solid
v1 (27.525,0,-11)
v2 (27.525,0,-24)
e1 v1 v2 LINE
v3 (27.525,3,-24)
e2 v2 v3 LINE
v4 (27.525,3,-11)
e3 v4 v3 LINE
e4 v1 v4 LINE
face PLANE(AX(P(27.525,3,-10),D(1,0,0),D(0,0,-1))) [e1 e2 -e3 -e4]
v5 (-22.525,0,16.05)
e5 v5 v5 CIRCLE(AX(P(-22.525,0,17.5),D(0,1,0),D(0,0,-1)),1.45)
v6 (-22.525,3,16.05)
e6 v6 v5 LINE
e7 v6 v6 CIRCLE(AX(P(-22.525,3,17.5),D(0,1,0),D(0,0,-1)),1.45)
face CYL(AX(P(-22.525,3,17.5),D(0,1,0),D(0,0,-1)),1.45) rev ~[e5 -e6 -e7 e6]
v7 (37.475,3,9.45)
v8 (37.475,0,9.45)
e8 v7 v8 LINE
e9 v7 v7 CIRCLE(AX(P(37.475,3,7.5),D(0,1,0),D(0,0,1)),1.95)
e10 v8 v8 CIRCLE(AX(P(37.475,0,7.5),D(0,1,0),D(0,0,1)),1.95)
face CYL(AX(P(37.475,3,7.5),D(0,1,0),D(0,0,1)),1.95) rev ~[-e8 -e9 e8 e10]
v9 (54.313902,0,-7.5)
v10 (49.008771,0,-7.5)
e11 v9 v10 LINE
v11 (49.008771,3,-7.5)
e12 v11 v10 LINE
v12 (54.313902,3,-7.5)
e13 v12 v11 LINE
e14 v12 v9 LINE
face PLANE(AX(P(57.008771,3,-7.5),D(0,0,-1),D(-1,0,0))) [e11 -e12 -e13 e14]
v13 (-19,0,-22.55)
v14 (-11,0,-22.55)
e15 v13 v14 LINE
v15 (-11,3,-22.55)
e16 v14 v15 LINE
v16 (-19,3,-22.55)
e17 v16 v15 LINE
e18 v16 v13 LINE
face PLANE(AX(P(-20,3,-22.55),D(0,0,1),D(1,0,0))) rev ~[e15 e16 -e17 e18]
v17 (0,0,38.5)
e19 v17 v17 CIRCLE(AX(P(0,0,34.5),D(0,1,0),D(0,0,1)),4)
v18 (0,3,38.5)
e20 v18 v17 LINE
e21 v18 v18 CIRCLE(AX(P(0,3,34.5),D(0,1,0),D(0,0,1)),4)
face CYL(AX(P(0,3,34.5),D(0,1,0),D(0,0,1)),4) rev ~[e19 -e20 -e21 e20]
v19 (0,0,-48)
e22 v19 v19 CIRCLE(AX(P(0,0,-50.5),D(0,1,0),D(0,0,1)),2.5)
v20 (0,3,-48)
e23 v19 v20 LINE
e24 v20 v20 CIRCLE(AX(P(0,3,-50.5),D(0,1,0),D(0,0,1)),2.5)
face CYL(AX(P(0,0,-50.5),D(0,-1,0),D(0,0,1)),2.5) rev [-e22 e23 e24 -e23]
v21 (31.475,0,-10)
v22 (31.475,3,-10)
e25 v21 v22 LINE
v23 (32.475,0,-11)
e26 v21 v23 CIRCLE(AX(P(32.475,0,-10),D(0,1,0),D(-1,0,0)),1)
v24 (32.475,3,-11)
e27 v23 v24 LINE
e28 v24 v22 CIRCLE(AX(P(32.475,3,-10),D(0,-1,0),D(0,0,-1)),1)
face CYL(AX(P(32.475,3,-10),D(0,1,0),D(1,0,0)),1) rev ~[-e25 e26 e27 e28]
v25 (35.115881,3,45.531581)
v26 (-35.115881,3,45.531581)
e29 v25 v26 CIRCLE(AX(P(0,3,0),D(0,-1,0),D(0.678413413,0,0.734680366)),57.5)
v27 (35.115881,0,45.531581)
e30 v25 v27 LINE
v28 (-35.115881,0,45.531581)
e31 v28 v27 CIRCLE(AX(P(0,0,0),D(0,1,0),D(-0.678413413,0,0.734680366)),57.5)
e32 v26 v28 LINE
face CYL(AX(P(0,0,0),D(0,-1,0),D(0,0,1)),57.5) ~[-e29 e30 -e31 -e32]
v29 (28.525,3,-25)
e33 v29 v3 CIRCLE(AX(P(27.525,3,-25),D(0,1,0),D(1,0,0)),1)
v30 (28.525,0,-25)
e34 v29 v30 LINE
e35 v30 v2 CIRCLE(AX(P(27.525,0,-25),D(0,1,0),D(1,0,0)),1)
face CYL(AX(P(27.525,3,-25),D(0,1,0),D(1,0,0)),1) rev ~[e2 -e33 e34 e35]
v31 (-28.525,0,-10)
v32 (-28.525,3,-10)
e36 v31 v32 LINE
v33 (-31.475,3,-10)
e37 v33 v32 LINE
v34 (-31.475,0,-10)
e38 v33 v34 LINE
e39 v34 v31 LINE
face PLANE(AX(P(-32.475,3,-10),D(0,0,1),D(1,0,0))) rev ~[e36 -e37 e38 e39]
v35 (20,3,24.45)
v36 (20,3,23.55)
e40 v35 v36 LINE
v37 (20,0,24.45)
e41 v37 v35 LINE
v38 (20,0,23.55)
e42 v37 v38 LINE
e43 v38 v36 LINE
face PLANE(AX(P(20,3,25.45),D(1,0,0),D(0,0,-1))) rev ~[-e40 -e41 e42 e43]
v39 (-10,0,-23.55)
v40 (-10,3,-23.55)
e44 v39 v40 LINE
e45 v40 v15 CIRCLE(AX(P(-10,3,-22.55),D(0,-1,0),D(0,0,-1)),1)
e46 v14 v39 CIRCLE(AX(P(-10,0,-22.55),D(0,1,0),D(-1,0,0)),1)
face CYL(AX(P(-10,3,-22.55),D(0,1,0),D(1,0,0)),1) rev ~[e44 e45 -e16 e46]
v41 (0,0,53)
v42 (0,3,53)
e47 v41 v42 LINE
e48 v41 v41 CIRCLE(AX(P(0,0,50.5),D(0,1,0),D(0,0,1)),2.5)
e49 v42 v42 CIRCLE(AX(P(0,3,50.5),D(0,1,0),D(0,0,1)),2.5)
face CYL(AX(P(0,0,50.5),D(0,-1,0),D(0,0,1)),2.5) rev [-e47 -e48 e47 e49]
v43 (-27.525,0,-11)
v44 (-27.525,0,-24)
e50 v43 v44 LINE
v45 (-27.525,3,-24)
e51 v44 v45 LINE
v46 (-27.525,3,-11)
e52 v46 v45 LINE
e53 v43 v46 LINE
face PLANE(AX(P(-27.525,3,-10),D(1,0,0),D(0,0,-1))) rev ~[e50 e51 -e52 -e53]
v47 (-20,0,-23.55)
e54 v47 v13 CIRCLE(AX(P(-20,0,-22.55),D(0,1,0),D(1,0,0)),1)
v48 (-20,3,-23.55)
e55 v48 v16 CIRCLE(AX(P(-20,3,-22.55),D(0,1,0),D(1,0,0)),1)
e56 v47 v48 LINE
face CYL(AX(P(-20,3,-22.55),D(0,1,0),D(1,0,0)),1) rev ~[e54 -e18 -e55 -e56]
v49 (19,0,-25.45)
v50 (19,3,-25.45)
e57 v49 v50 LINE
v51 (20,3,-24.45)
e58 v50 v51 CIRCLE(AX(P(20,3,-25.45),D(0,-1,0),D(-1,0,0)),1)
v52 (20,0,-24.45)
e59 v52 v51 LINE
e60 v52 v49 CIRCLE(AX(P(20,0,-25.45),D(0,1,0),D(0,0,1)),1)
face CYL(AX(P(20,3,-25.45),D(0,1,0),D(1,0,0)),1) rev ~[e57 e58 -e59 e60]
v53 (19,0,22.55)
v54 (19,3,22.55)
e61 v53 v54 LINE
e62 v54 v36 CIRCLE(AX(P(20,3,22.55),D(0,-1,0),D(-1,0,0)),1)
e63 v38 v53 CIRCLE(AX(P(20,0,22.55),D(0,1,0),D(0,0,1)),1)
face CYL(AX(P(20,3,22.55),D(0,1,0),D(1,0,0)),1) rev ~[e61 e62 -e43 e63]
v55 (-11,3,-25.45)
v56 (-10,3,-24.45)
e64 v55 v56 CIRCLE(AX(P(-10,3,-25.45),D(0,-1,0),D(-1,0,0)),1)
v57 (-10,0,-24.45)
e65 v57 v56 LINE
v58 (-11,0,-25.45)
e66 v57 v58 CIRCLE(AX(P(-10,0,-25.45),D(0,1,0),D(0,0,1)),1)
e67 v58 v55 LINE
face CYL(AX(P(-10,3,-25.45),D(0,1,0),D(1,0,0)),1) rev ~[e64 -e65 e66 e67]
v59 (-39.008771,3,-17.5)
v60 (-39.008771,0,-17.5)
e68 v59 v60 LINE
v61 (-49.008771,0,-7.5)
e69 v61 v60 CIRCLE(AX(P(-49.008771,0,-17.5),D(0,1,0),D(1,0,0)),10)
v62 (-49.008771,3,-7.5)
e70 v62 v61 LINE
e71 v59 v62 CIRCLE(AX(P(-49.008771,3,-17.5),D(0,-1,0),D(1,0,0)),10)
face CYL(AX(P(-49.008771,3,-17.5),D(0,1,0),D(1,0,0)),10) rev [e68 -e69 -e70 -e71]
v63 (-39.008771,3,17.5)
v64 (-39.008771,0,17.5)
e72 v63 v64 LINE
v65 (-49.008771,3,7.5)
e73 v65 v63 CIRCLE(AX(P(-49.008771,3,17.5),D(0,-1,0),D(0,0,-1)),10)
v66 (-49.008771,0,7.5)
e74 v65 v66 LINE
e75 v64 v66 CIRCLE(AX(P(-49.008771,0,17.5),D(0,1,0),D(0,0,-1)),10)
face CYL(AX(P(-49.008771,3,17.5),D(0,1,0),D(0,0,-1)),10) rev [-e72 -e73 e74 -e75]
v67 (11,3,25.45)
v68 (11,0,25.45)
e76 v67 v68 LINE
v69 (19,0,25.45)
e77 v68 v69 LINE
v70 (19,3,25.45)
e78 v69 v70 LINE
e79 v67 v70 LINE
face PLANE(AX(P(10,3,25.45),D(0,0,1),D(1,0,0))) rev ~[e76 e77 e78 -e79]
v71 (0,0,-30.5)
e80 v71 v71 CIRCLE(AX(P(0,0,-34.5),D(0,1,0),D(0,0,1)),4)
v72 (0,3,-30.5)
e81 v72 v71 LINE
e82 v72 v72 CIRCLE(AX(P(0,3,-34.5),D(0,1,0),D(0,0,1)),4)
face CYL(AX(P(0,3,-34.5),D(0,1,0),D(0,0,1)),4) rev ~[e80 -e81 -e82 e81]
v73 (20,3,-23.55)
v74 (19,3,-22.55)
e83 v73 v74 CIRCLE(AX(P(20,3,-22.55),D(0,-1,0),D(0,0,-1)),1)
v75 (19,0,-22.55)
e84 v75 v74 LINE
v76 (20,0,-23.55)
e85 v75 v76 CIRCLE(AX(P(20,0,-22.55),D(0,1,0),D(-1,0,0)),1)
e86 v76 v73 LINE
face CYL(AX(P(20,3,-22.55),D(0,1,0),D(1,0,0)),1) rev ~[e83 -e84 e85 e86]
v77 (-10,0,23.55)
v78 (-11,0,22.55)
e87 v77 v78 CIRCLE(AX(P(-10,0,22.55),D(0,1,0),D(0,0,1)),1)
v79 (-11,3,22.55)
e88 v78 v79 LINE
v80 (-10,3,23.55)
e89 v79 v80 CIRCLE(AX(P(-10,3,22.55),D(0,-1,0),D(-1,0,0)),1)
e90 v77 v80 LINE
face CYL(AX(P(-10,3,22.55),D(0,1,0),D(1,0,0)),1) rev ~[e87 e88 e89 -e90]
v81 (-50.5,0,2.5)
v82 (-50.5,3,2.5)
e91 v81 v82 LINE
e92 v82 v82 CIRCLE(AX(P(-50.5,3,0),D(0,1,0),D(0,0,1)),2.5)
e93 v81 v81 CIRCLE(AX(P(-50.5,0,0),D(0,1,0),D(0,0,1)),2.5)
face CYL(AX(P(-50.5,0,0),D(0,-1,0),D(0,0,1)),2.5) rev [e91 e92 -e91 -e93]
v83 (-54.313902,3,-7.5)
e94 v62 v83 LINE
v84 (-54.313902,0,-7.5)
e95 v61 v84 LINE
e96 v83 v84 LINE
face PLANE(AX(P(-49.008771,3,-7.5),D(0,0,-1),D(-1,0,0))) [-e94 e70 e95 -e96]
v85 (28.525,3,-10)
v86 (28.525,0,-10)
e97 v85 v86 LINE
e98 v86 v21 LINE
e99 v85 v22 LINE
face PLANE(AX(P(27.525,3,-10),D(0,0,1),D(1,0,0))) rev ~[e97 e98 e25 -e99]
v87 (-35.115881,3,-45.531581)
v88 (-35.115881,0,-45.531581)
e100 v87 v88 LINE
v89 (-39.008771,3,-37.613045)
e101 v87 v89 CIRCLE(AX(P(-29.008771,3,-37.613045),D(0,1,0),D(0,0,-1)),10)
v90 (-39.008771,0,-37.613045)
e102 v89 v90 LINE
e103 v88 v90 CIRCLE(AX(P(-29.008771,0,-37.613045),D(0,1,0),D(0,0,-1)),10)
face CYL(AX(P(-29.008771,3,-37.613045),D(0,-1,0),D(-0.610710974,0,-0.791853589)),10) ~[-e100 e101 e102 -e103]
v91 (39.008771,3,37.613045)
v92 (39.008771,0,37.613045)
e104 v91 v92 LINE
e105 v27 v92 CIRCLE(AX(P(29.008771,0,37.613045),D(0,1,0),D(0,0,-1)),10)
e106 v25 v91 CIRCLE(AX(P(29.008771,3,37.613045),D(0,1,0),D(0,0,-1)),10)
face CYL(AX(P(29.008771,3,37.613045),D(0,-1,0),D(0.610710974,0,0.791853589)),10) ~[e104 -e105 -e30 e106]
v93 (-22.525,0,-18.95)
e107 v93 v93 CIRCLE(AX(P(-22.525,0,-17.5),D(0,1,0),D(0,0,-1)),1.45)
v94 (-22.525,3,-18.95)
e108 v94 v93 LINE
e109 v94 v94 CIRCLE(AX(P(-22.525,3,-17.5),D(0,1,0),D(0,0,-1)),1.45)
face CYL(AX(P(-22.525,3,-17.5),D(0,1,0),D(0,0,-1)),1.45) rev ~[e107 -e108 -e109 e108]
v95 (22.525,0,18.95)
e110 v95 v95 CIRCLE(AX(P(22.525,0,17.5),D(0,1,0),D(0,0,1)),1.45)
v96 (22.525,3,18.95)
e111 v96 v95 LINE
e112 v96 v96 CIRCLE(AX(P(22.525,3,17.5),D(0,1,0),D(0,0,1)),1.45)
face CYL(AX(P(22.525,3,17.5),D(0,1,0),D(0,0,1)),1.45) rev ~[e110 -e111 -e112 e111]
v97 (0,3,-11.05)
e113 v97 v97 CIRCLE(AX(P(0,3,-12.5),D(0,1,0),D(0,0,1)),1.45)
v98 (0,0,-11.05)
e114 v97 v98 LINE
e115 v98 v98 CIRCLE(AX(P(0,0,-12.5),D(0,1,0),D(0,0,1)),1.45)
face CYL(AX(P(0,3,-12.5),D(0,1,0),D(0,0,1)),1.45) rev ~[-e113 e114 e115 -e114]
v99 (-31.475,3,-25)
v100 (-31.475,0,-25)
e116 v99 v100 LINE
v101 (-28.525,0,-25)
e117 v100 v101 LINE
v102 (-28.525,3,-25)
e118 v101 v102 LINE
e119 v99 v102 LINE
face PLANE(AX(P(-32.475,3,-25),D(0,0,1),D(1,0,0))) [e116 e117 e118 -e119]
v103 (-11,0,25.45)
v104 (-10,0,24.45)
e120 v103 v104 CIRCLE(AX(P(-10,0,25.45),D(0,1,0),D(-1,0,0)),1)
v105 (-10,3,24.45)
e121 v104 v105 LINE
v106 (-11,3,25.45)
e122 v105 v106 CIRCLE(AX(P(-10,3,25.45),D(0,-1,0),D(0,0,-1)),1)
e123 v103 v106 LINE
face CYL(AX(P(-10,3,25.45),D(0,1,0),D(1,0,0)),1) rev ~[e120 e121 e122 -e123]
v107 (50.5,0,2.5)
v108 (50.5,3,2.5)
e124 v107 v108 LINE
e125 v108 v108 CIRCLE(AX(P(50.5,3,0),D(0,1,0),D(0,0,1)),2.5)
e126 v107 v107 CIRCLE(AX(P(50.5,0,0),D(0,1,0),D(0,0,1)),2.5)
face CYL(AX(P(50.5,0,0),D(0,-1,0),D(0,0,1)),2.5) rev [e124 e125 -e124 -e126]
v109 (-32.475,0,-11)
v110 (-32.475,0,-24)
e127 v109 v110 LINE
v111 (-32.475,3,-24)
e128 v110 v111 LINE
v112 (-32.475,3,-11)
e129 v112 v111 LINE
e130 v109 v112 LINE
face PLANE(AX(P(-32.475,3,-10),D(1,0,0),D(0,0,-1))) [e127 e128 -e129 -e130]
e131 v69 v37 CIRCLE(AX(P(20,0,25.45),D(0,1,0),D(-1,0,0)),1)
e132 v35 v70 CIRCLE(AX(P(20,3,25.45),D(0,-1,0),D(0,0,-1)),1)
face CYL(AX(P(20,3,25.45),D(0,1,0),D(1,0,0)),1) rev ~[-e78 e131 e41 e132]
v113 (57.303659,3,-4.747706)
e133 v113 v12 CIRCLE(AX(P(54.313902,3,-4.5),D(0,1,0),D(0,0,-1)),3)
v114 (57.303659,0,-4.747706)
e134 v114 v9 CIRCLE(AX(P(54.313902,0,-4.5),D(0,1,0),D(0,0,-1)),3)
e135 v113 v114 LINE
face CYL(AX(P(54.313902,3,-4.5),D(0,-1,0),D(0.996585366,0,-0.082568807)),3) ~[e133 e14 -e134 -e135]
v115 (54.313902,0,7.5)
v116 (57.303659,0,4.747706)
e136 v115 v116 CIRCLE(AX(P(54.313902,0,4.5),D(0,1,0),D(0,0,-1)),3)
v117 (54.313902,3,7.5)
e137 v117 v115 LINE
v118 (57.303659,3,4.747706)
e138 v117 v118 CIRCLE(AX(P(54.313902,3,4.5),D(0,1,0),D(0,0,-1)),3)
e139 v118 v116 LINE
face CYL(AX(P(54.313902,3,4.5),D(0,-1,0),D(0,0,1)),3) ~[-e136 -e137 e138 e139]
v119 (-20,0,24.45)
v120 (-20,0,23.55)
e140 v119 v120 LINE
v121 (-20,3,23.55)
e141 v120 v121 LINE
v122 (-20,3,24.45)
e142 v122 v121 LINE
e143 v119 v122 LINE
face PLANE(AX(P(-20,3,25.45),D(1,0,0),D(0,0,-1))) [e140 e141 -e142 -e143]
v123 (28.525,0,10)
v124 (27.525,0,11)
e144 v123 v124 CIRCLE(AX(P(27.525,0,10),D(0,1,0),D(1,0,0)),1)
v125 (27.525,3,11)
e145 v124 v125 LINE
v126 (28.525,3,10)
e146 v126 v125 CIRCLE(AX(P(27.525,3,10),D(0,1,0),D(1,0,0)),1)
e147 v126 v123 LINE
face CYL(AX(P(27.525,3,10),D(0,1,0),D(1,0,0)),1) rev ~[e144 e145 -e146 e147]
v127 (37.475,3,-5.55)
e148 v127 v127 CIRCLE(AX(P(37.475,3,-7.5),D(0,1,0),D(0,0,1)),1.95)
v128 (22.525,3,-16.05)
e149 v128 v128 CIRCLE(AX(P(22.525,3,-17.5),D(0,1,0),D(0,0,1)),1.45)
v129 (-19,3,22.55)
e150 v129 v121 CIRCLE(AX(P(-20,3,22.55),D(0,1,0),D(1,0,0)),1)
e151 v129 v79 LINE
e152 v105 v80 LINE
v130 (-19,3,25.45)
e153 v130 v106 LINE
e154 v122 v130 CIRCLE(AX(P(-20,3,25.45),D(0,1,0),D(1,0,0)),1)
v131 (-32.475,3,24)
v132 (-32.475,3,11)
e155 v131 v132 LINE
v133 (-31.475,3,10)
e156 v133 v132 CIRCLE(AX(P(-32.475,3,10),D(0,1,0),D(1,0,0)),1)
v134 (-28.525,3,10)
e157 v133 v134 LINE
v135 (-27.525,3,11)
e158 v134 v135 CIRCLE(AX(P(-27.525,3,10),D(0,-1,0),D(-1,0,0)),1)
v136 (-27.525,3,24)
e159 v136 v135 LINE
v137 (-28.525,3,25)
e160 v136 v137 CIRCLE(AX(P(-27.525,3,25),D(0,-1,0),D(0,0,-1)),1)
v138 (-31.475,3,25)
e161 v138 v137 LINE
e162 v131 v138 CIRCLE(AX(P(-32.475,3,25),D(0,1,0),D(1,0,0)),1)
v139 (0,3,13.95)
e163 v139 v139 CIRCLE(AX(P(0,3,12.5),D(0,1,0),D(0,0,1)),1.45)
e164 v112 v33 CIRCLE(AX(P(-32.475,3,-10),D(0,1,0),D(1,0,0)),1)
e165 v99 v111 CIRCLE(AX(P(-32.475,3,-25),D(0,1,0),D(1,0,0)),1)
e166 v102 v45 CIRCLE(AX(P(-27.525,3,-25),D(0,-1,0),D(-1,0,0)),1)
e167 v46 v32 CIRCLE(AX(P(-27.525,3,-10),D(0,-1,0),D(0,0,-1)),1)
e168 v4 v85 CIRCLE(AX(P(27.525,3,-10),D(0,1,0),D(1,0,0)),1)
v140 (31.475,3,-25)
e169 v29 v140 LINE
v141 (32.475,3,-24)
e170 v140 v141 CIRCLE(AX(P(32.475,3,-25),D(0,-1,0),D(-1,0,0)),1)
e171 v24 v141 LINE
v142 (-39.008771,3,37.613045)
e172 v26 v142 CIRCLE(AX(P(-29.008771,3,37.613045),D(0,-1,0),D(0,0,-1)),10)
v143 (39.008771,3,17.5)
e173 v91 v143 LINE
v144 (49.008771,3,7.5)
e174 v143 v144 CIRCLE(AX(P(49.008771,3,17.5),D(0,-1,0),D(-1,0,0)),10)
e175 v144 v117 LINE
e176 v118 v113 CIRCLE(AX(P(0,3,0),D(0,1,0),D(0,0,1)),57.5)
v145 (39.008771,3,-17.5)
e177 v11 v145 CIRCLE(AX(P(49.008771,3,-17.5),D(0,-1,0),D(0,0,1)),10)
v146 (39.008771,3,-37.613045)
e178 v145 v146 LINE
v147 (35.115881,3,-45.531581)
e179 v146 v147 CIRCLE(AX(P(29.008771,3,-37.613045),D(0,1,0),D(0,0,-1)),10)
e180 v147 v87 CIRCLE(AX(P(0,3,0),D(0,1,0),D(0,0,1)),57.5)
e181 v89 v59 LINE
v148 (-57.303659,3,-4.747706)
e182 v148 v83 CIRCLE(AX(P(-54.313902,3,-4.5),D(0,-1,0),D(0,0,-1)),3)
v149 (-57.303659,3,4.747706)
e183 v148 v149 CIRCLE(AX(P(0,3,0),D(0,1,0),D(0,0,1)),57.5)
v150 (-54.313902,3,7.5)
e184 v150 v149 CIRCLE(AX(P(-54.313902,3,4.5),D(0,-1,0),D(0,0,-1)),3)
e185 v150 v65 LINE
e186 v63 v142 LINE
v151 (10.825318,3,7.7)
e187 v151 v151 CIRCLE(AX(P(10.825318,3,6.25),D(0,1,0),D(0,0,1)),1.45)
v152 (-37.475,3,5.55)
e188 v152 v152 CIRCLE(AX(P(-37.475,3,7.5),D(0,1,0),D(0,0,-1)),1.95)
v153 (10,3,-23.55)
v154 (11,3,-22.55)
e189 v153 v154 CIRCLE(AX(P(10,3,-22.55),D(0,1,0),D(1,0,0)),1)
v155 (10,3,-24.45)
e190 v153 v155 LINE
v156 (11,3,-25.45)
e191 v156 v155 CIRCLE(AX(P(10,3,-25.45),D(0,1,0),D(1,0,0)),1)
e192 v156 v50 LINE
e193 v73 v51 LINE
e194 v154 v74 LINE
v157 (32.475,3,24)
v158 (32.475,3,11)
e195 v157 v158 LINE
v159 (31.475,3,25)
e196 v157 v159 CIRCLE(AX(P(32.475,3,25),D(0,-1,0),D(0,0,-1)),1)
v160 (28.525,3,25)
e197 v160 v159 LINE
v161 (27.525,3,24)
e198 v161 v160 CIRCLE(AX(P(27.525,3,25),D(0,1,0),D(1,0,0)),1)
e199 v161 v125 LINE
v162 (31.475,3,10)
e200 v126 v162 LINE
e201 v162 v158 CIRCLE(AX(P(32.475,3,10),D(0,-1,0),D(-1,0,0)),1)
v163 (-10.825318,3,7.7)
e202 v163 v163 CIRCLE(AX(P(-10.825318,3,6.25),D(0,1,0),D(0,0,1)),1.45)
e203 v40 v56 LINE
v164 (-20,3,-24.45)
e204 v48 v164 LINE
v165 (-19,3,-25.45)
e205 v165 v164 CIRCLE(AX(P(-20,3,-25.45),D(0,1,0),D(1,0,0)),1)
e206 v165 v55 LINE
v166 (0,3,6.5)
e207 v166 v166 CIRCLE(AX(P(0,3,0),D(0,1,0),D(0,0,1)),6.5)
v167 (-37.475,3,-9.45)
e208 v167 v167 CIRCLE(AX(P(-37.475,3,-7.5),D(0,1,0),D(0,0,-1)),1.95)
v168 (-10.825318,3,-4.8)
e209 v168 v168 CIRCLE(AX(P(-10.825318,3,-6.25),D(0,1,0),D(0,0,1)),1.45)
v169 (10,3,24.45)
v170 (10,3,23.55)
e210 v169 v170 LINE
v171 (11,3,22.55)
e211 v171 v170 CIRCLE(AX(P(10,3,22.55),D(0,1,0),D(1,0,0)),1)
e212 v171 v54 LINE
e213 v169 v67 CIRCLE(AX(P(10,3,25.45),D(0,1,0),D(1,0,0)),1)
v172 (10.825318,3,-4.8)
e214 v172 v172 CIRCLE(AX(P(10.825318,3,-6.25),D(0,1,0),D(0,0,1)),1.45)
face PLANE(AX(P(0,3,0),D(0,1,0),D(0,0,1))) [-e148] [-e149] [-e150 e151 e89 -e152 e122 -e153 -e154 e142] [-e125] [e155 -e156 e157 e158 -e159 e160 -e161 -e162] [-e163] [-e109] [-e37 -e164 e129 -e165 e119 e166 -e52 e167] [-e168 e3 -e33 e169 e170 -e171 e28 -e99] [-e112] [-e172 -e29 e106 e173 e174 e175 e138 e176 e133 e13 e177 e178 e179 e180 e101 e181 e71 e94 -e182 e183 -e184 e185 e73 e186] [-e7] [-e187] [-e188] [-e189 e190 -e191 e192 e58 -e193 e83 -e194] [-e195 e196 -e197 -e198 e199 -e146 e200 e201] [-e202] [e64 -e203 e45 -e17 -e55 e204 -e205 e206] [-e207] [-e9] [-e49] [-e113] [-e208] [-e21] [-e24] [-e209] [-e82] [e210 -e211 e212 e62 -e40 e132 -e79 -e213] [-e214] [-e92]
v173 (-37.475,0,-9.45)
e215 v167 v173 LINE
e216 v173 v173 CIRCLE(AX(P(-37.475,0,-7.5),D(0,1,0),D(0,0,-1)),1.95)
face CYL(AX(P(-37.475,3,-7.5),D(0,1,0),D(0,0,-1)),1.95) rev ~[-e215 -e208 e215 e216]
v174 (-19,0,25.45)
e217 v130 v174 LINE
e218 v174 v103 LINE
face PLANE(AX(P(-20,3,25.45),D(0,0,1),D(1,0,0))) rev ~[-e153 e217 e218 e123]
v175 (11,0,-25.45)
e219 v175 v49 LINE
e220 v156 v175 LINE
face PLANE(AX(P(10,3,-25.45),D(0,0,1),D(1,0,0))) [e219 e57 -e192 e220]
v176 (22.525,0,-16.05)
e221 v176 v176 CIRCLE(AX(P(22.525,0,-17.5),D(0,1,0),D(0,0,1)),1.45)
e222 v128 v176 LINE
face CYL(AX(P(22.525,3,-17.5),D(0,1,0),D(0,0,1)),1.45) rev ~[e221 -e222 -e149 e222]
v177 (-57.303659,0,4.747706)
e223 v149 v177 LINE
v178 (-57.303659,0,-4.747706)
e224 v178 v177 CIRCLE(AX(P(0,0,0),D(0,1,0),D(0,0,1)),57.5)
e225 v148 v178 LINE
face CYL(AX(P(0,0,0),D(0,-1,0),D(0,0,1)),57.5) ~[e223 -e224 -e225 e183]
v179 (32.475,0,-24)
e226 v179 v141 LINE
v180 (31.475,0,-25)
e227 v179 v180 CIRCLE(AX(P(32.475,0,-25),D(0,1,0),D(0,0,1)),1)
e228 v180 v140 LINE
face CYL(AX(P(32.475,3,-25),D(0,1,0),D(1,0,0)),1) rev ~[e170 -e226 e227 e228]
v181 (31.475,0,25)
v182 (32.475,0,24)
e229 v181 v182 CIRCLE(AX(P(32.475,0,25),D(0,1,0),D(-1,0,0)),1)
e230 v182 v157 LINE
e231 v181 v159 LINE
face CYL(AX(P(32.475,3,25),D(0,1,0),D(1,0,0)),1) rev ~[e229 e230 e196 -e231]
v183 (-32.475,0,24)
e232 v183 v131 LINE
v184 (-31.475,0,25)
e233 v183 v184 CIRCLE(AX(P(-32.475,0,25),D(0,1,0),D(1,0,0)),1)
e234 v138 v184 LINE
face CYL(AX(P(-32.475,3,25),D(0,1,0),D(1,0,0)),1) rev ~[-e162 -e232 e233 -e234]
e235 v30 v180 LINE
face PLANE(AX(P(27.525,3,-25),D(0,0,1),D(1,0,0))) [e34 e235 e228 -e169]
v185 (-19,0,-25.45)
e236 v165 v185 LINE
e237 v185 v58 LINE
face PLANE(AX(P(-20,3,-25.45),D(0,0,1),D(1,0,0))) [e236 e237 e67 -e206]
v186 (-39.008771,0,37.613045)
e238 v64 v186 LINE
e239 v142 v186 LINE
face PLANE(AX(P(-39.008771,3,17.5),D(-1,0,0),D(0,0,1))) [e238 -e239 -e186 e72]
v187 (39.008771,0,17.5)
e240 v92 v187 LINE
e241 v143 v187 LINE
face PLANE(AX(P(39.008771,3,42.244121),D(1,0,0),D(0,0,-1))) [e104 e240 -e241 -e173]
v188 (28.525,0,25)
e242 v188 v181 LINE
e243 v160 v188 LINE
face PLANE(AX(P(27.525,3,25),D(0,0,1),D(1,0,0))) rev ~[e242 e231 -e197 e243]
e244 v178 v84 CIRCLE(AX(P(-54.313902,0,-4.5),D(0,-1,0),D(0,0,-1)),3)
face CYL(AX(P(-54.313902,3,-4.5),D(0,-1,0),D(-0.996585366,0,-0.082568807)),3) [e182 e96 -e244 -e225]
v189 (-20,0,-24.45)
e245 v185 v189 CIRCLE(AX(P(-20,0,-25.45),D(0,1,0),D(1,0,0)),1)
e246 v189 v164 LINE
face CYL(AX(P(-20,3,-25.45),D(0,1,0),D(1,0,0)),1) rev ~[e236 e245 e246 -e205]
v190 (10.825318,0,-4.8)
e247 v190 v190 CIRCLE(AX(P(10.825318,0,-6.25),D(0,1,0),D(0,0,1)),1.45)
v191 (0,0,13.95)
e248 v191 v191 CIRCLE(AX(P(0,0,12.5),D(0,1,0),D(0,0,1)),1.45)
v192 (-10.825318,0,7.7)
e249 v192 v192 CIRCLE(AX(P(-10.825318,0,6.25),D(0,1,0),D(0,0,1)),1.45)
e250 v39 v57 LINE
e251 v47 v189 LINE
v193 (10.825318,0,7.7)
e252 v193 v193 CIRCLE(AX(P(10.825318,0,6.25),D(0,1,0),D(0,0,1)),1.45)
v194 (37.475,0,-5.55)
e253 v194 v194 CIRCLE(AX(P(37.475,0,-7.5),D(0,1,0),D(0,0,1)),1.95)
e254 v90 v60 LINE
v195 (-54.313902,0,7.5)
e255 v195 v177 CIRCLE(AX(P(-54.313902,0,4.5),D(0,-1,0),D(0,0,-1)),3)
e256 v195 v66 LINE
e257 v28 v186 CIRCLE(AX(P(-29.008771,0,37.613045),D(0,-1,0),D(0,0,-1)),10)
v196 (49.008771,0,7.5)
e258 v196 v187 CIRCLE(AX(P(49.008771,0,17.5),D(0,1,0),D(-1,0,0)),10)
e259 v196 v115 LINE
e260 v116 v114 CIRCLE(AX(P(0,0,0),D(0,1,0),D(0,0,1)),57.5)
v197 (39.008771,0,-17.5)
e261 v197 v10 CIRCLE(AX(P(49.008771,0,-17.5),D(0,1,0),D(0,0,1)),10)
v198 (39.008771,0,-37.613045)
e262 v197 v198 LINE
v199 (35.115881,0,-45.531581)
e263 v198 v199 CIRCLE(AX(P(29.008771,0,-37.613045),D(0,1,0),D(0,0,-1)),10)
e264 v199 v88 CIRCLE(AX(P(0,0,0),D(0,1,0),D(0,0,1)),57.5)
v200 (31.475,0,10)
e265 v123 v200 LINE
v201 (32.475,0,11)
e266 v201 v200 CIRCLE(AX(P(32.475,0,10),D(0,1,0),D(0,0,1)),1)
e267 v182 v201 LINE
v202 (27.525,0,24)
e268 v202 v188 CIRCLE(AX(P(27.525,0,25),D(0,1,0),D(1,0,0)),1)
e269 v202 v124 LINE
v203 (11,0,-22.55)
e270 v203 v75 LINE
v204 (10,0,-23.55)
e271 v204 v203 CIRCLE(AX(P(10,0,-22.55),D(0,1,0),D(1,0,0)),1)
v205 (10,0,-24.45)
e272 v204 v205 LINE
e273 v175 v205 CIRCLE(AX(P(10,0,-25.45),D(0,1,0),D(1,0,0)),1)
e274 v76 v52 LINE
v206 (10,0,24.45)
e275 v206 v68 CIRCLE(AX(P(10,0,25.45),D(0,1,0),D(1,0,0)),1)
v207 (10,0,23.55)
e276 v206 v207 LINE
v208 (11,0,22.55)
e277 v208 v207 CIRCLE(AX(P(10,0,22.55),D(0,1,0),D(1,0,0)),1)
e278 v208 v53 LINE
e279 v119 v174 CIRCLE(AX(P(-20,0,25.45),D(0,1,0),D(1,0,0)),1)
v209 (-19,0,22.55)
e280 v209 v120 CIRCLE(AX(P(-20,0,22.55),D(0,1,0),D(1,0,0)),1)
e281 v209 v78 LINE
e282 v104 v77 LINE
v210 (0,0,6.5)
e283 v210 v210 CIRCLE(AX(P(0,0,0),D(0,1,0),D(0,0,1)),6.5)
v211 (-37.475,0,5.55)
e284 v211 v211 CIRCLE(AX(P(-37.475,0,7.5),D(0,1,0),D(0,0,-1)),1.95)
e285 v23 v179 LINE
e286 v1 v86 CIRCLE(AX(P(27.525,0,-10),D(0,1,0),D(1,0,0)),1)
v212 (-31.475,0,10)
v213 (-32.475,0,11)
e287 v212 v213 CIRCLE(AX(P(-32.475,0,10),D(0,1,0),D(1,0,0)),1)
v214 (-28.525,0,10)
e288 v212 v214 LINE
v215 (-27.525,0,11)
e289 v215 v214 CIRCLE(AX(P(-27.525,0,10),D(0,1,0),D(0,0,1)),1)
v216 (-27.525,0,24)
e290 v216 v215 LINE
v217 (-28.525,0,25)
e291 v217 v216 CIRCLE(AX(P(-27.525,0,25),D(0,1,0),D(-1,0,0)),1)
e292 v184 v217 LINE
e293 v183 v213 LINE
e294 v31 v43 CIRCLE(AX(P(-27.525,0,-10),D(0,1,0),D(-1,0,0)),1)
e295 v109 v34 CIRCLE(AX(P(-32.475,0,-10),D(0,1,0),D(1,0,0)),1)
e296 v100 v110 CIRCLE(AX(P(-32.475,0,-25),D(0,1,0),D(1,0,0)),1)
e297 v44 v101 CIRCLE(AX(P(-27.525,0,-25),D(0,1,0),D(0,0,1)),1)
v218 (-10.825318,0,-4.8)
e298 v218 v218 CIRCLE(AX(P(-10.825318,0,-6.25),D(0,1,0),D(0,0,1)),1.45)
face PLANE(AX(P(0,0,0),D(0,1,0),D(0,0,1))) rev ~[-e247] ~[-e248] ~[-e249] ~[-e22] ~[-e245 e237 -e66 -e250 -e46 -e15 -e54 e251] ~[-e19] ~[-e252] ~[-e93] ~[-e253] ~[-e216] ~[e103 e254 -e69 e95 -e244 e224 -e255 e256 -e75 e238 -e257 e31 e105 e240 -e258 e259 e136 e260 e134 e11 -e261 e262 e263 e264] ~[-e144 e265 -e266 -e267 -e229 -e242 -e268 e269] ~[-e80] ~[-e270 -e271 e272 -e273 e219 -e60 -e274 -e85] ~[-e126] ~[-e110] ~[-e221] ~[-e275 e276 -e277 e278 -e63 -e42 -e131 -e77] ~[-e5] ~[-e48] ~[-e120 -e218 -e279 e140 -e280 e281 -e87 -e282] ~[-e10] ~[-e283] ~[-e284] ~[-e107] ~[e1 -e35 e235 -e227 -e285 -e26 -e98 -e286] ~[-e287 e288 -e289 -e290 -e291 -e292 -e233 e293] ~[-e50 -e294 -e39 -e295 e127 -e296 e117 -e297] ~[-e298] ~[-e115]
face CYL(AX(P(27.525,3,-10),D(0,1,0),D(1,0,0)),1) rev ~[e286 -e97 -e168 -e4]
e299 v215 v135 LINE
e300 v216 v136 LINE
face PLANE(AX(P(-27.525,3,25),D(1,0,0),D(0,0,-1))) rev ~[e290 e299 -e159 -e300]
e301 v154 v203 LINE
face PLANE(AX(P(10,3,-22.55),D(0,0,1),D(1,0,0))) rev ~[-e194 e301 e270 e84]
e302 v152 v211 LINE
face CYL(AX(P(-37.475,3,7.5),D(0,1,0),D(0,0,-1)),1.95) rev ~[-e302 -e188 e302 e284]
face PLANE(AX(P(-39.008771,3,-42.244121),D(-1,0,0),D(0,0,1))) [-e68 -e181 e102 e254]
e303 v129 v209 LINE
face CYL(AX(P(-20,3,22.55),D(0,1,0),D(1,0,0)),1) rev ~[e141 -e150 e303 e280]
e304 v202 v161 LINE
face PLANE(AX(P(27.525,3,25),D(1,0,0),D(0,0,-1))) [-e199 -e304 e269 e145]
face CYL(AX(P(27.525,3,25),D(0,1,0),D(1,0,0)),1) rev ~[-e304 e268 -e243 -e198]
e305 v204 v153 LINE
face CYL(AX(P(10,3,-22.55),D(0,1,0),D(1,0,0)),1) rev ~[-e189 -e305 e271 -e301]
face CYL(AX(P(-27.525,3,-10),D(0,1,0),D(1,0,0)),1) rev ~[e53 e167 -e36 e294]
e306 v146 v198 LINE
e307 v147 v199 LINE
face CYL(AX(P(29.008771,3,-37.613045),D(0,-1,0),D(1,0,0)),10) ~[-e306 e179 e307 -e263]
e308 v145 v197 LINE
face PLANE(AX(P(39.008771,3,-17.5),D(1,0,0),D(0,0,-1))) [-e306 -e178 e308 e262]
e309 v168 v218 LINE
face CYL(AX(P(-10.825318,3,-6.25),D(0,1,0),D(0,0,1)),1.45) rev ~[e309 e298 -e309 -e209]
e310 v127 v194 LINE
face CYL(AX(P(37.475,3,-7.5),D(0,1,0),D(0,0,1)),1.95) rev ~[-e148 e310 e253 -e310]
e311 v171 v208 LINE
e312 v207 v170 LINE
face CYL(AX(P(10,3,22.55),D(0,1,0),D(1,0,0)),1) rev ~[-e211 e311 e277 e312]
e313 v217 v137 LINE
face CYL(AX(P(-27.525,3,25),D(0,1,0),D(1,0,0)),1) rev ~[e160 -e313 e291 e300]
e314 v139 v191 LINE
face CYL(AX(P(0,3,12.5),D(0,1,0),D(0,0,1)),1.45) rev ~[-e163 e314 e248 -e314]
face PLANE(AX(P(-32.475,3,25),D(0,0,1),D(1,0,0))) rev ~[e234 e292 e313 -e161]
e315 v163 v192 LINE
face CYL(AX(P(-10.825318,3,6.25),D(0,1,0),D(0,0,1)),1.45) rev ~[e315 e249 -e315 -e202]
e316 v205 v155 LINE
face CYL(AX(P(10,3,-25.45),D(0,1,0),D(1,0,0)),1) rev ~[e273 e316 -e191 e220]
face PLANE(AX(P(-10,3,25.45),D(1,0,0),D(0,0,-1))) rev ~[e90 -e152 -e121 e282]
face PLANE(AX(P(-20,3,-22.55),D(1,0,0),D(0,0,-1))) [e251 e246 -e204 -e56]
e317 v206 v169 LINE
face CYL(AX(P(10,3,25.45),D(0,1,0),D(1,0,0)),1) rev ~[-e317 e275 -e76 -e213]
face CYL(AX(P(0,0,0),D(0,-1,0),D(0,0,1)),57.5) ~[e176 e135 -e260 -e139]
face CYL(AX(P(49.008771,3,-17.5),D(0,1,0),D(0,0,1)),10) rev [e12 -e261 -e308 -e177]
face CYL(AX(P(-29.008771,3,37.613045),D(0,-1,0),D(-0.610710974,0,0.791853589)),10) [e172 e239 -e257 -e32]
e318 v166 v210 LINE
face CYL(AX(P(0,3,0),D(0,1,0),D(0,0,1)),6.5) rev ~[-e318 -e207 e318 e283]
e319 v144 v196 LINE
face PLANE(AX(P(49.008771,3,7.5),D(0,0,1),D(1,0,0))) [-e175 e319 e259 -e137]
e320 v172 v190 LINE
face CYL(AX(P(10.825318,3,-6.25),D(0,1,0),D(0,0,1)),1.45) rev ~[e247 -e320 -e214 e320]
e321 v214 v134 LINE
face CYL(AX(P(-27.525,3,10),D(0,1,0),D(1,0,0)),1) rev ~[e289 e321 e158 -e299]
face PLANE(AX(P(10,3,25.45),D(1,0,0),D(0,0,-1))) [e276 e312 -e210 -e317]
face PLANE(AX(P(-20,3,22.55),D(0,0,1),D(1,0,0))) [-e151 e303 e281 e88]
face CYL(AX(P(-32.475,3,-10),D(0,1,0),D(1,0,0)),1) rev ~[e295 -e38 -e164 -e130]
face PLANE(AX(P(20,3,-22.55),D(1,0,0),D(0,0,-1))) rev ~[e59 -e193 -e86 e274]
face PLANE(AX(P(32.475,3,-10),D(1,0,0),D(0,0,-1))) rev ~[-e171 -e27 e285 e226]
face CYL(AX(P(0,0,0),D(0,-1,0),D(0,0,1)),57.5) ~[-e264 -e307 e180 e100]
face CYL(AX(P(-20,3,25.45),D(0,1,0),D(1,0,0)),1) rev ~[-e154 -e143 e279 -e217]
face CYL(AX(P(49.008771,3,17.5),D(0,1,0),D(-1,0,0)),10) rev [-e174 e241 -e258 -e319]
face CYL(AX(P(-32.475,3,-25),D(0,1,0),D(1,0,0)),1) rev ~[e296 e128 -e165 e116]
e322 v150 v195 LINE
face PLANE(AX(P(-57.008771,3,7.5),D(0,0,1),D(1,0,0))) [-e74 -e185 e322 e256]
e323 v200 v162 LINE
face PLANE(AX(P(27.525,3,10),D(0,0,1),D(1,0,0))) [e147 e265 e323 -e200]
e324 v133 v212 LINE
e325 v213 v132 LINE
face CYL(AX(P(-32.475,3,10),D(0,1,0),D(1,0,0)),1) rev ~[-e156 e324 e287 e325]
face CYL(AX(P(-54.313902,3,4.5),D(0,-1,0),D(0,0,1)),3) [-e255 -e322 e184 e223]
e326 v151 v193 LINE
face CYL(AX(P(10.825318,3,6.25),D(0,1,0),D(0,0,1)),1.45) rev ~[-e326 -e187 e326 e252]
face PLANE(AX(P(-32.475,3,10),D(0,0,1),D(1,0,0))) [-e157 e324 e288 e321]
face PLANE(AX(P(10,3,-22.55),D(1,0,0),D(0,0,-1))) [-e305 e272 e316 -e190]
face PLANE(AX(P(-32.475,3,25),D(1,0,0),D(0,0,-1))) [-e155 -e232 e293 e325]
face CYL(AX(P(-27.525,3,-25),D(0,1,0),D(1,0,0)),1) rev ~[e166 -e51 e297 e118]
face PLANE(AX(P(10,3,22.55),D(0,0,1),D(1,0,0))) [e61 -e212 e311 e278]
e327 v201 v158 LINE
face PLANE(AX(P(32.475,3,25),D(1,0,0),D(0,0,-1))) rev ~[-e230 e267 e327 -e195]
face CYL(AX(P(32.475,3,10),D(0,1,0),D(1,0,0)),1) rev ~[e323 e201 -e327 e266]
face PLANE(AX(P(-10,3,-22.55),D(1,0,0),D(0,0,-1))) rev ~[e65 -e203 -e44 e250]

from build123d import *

# Parameters (mm, degrees)
SKETCH_1_R          = 57.5
SKETCH_1_R_2        = 2.5
EXTRUDE_1_DEPTH     = 3
SKETCH_2_R          = 1.45
CUT_EXTRUDE_1_DEPTH = 82.372599811
SKETCH_3_R          = 1.45
SKETCH_3_R_2        = 1.95
SKETCH_3_W          = 4.95
SKETCH_3_H          = 15
CUT_EXTRUDE_2_DEPTH = 82.372599811
SKETCH_4_R          = 1
CUT_EXTRUDE_3_DEPTH = 82.372599811
SKETCH_5_W          = 10
SKETCH_5_H          = 2.9
CUT_EXTRUDE_4_DEPTH = 82.372599811
SKETCH_6_R          = 1
CUT_EXTRUDE_5_DEPTH = 82.372599811
SKETCH_7_R          = 4
CUT_EXTRUDE_6_DEPTH = 82.372599811
SKETCH_8_R          = 6.5
CUT_EXTRUDE_7_DEPTH = 82.372599811
CUT_EXTRUDE_8_DEPTH = 82.372599811
FILLET_1_R          = 10
FILLET_2_R          = 3


with BuildPart() as part:
    # 草图1 → 凸台-拉伸1 (new body)
    with BuildSketch(Plane(origin=(0, 0, 0), x_dir=(1, 0, 0), z_dir=(0, 1, 0))):
        with Locations(Location((0, 0, 0), (0, 0, 270))):
            Circle(SKETCH_1_R)
        with Locations(Location((0, 50.5, 0), (0, 0, 270))):
            Circle(SKETCH_1_R_2, mode=Mode.SUBTRACT)
        with Locations(Location((50.5, 0, 0), (0, 0, 270))):
            Circle(SKETCH_1_R_2, mode=Mode.SUBTRACT)
        with Locations(Location((0, -50.5, 0), (0, 0, 270))):
            Circle(SKETCH_1_R_2, mode=Mode.SUBTRACT)
        with Locations(Location((-50.5, 0, 0), (0, 0, 270))):
            Circle(SKETCH_1_R_2, mode=Mode.SUBTRACT)
    extrude(amount=EXTRUDE_1_DEPTH)

    # 草图2 → 切除-拉伸1 (cut, through all)
    with BuildSketch(Plane(origin=(0, 3, 0), x_dir=(1, 0, 0), z_dir=(0, 1, 0))):
        with Locations(Location((0, 12.5, 0), (0, 0, 270))):
            Circle(SKETCH_2_R)
        with Locations(Location((10.825317547, 6.25, 0), (0, 0, 270))):
            Circle(SKETCH_2_R)
        with Locations(Location((10.825317547, -6.25, 0), (0, 0, 270))):
            Circle(SKETCH_2_R)
        with Locations(Location((0, -12.5, 0), (0, 0, 270))):
            Circle(SKETCH_2_R)
        with Locations(Location((-10.825317547, -6.25, 0), (0, 0, 270))):
            Circle(SKETCH_2_R)
        with Locations(Location((-10.825317547, 6.25, 0), (0, 0, 270))):
            Circle(SKETCH_2_R)
    extrude(amount=-CUT_EXTRUDE_1_DEPTH, mode=Mode.SUBTRACT)

    # 草图3 → 切除-拉伸2 (cut, through all)
    with BuildSketch(Plane(origin=(0, 3, 0), x_dir=(1, 0, 0), z_dir=(0, 1, 0))):
        with Locations(Location((22.525, 17.5, 0), (0, 0, 270))):
            Circle(SKETCH_3_R)
        with Locations(Location((22.525, -17.5, 0), (0, 0, 270))):
            Circle(SKETCH_3_R)
        with Locations(Location((-22.525, -17.5, 0), (0, 0, 90))):
            Circle(SKETCH_3_R)
        with Locations(Location((-22.525, 17.5, 0), (0, 0, 90))):
            Circle(SKETCH_3_R)
        with Locations(Location((37.475, 7.5, 0), (0, 0, 270))):
            Circle(SKETCH_3_R_2)
        with Locations(Location((37.475, -7.5, 0), (0, 0, 270))):
            Circle(SKETCH_3_R_2)
        with Locations(Location((-37.475, -7.5, 0), (0, 0, 90))):
            Circle(SKETCH_3_R_2)
        with Locations(Location((-37.475, 7.5, 0), (0, 0, 90))):
            Circle(SKETCH_3_R_2)
        with Locations((30, 17.5)):
            Rectangle(SKETCH_3_W, SKETCH_3_H)
        with Locations((30, -17.5)):
            Rectangle(SKETCH_3_W, SKETCH_3_H)
        with Locations((-30, -17.5)):
            Rectangle(SKETCH_3_W, SKETCH_3_H)
        with Locations((-30, 17.5)):
            Rectangle(SKETCH_3_W, SKETCH_3_H)
    extrude(amount=-CUT_EXTRUDE_2_DEPTH, mode=Mode.SUBTRACT)

    # 草图4 → 切除-拉伸3 (cut, through all)
    with BuildSketch(Plane(origin=(0, 3, 0), x_dir=(1, 0, 0), z_dir=(0, 1, 0))):
        with Locations((-32.475, 25)):
            Circle(SKETCH_4_R)
        with Locations((-27.525, 25)):
            Circle(SKETCH_4_R)
        with Locations((-27.525, 10)):
            Circle(SKETCH_4_R)
        with Locations((-32.475, 10)):
            Circle(SKETCH_4_R)
        with Locations((27.525, 25)):
            Circle(SKETCH_4_R)
        with Locations((32.475, 25)):
            Circle(SKETCH_4_R)
        with Locations((32.475, 10)):
            Circle(SKETCH_4_R)
        with Locations((27.525, 10)):
            Circle(SKETCH_4_R)
        with Locations((27.525, -10)):
            Circle(SKETCH_4_R)
        with Locations((32.475, -10)):
            Circle(SKETCH_4_R)
        with Locations((32.475, -25)):
            Circle(SKETCH_4_R)
        with Locations((27.525, -25)):
            Circle(SKETCH_4_R)
        with Locations((-27.525, -25)):
            Circle(SKETCH_4_R)
        with Locations((-32.475, -25)):
            Circle(SKETCH_4_R)
        with Locations((-32.475, -10)):
            Circle(SKETCH_4_R)
        with Locations((-27.525, -10)):
            Circle(SKETCH_4_R)
    extrude(amount=-CUT_EXTRUDE_3_DEPTH, mode=Mode.SUBTRACT)

    # 草图5 → 切除-拉伸4 (cut, through all)
    with BuildSketch(Plane(origin=(0, 3, 0), x_dir=(1, 0, 0), z_dir=(0, 1, 0))):
        with Locations((15, -24)):
            Rectangle(SKETCH_5_W, SKETCH_5_H)
        with Locations((-15, -24)):
            Rectangle(SKETCH_5_W, SKETCH_5_H)
        with Locations((-15, 24)):
            Rectangle(SKETCH_5_W, SKETCH_5_H)
        with Locations((15, 24)):
            Rectangle(SKETCH_5_W, SKETCH_5_H)
    extrude(amount=-CUT_EXTRUDE_4_DEPTH, mode=Mode.SUBTRACT)

    # 草图6 → 切除-拉伸5 (cut, through all)
    with BuildSketch(Plane(origin=(0, 3, 0), x_dir=(1, 0, 0), z_dir=(0, 1, 0))):
        with Locations((-20, 25.45)):
            Circle(SKETCH_6_R)
        with Locations((-10, 25.45)):
            Circle(SKETCH_6_R)
        with Locations((-10, 22.55)):
            Circle(SKETCH_6_R)
        with Locations((-20, 22.55)):
            Circle(SKETCH_6_R)
        with Locations((10, 22.55)):
            Circle(SKETCH_6_R)
        with Locations((10, 25.45)):
            Circle(SKETCH_6_R)
        with Locations((20, 25.45)):
            Circle(SKETCH_6_R)
        with Locations((20, 22.55)):
            Circle(SKETCH_6_R)
        with Locations((20, -22.55)):
            Circle(SKETCH_6_R)
        with Locations((20, -25.45)):
            Circle(SKETCH_6_R)
        with Locations((10, -25.45)):
            Circle(SKETCH_6_R)
        with Locations((10, -22.55)):
            Circle(SKETCH_6_R)
        with Locations((-10, -22.55)):
            Circle(SKETCH_6_R)
        with Locations((-10, -25.45)):
            Circle(SKETCH_6_R)
        with Locations((-20, -25.45)):
            Circle(SKETCH_6_R)
        with Locations((-20, -22.55)):
            Circle(SKETCH_6_R)
    extrude(amount=-CUT_EXTRUDE_5_DEPTH, mode=Mode.SUBTRACT)

    # 草图7 → 切除-拉伸6 (cut, through all)
    with BuildSketch(Plane(origin=(0, 3, 0), x_dir=(1, 0, 0), z_dir=(0, 1, 0))):
        with Locations(Location((0, 34.5, 0), (0, 0, 270))):
            Circle(SKETCH_7_R)
        with Locations(Location((0, -34.5, 0), (0, 0, 270))):
            Circle(SKETCH_7_R)
    extrude(amount=-CUT_EXTRUDE_6_DEPTH, mode=Mode.SUBTRACT)

    # 草图8 → 切除-拉伸7 (cut, through all)
    with BuildSketch(Plane(origin=(0, 3, 0), x_dir=(1, 0, 0), z_dir=(0, 1, 0))):
        with Locations(Location((0, 0, 0), (0, 0, 270))):
            Circle(SKETCH_8_R)
    extrude(amount=-CUT_EXTRUDE_7_DEPTH, mode=Mode.SUBTRACT)

    # 草图9 → 切除-拉伸8 (cut, through all)
    with BuildSketch(Plane(origin=(0, 3, 0), x_dir=(1, 0, 0), z_dir=(0, 1, 0))):
        with BuildLine():
            Line((-39.008771255, 30.266708508), (-39.008771255, 17.5))
            ThreePointArc((-39.008771255, 17.5), (-41.937703443, 10.428932188), (-49.008771255, 7.5))
            Line((-49.008771255, 7.5), (-57.008771255, 7.5))
            ThreePointArc((-57.008771255, 7.5), (-51.055172164, 26.45031938), (-39.008771255, 42.244121072))
            Line((-39.008771255, 42.244121072), (-39.008771255, 39.722188958))
            Line((-39.008771255, 39.722188958), (-39.008771255, 30.266708508))
        make_face()
        with BuildLine():
            Line((-57.008771255, -7.5), (-49.008771255, -7.5))
            ThreePointArc((-49.008771255, -7.5), (-41.937703443, -10.428932188), (-39.008771255, -17.5))
            Line((-39.008771255, -17.5), (-39.008771255, -30.266708508))
            Line((-39.008771255, -30.266708508), (-39.008771255, -39.722188958))
            Line((-39.008771255, -39.722188958), (-39.008771255, -42.244121072))
            ThreePointArc((-39.008771255, -42.244121072), (-51.055172164, -26.45031938), (-57.008771255, -7.5))
        make_face()
        with BuildLine():
            Line((39.008771255, -30.266708508), (39.008771255, -17.5))
            ThreePointArc((39.008771255, -17.5), (41.937703443, -10.428932188), (49.008771255, -7.5))
            Line((49.008771255, -7.5), (57.008771255, -7.5))
            ThreePointArc((57.008771255, -7.5), (51.055172164, -26.45031938), (39.008771255, -42.244121072))
            Line((39.008771255, -42.244121072), (39.008771255, -39.722188958))
            Line((39.008771255, -39.722188958), (39.008771255, -30.266708508))
        make_face()
        with BuildLine():
            Line((57.008771255, 7.5), (49.008771255, 7.5))
            ThreePointArc((49.008771255, 7.5), (41.937703443, 10.428932188), (39.008771255, 17.5))
            Line((39.008771255, 17.5), (39.008771255, 30.266708508))
            Line((39.008771255, 30.266708508), (39.008771255, 39.722188958))
            Line((39.008771255, 39.722188958), (39.008771255, 42.244121072))
            ThreePointArc((39.008771255, 42.244121072), (51.055172164, 26.45031938), (57.008771255, 7.5))
        make_face()
    extrude(amount=-CUT_EXTRUDE_8_DEPTH, mode=Mode.SUBTRACT)

    # 圆角1
    fillet_1_edges = [part.edges().sort_by_distance(p)[0] for p in [
        (-39.008771255, 1.5, 42.244121072),
        (39.008771255, 1.5, 42.244121072),
        (39.008771255, 1.5, -42.244121072),
        (-39.008771255, 1.5, -42.244121072),
    ]]
    fillet(fillet_1_edges, radius=FILLET_1_R)

    # 圆角2
    fillet_2_edges = [part.edges().sort_by_distance(p)[0] for p in [
        (-57.008771255, 1.5, 7.5),
        (57.008771255, 1.5, 7.5),
        (57.008771255, 1.5, -7.5),
        (-57.008771255, 1.5, -7.5),
    ]]
    fillet(fillet_2_edges, radius=FILLET_2_R)


solid = part.part
